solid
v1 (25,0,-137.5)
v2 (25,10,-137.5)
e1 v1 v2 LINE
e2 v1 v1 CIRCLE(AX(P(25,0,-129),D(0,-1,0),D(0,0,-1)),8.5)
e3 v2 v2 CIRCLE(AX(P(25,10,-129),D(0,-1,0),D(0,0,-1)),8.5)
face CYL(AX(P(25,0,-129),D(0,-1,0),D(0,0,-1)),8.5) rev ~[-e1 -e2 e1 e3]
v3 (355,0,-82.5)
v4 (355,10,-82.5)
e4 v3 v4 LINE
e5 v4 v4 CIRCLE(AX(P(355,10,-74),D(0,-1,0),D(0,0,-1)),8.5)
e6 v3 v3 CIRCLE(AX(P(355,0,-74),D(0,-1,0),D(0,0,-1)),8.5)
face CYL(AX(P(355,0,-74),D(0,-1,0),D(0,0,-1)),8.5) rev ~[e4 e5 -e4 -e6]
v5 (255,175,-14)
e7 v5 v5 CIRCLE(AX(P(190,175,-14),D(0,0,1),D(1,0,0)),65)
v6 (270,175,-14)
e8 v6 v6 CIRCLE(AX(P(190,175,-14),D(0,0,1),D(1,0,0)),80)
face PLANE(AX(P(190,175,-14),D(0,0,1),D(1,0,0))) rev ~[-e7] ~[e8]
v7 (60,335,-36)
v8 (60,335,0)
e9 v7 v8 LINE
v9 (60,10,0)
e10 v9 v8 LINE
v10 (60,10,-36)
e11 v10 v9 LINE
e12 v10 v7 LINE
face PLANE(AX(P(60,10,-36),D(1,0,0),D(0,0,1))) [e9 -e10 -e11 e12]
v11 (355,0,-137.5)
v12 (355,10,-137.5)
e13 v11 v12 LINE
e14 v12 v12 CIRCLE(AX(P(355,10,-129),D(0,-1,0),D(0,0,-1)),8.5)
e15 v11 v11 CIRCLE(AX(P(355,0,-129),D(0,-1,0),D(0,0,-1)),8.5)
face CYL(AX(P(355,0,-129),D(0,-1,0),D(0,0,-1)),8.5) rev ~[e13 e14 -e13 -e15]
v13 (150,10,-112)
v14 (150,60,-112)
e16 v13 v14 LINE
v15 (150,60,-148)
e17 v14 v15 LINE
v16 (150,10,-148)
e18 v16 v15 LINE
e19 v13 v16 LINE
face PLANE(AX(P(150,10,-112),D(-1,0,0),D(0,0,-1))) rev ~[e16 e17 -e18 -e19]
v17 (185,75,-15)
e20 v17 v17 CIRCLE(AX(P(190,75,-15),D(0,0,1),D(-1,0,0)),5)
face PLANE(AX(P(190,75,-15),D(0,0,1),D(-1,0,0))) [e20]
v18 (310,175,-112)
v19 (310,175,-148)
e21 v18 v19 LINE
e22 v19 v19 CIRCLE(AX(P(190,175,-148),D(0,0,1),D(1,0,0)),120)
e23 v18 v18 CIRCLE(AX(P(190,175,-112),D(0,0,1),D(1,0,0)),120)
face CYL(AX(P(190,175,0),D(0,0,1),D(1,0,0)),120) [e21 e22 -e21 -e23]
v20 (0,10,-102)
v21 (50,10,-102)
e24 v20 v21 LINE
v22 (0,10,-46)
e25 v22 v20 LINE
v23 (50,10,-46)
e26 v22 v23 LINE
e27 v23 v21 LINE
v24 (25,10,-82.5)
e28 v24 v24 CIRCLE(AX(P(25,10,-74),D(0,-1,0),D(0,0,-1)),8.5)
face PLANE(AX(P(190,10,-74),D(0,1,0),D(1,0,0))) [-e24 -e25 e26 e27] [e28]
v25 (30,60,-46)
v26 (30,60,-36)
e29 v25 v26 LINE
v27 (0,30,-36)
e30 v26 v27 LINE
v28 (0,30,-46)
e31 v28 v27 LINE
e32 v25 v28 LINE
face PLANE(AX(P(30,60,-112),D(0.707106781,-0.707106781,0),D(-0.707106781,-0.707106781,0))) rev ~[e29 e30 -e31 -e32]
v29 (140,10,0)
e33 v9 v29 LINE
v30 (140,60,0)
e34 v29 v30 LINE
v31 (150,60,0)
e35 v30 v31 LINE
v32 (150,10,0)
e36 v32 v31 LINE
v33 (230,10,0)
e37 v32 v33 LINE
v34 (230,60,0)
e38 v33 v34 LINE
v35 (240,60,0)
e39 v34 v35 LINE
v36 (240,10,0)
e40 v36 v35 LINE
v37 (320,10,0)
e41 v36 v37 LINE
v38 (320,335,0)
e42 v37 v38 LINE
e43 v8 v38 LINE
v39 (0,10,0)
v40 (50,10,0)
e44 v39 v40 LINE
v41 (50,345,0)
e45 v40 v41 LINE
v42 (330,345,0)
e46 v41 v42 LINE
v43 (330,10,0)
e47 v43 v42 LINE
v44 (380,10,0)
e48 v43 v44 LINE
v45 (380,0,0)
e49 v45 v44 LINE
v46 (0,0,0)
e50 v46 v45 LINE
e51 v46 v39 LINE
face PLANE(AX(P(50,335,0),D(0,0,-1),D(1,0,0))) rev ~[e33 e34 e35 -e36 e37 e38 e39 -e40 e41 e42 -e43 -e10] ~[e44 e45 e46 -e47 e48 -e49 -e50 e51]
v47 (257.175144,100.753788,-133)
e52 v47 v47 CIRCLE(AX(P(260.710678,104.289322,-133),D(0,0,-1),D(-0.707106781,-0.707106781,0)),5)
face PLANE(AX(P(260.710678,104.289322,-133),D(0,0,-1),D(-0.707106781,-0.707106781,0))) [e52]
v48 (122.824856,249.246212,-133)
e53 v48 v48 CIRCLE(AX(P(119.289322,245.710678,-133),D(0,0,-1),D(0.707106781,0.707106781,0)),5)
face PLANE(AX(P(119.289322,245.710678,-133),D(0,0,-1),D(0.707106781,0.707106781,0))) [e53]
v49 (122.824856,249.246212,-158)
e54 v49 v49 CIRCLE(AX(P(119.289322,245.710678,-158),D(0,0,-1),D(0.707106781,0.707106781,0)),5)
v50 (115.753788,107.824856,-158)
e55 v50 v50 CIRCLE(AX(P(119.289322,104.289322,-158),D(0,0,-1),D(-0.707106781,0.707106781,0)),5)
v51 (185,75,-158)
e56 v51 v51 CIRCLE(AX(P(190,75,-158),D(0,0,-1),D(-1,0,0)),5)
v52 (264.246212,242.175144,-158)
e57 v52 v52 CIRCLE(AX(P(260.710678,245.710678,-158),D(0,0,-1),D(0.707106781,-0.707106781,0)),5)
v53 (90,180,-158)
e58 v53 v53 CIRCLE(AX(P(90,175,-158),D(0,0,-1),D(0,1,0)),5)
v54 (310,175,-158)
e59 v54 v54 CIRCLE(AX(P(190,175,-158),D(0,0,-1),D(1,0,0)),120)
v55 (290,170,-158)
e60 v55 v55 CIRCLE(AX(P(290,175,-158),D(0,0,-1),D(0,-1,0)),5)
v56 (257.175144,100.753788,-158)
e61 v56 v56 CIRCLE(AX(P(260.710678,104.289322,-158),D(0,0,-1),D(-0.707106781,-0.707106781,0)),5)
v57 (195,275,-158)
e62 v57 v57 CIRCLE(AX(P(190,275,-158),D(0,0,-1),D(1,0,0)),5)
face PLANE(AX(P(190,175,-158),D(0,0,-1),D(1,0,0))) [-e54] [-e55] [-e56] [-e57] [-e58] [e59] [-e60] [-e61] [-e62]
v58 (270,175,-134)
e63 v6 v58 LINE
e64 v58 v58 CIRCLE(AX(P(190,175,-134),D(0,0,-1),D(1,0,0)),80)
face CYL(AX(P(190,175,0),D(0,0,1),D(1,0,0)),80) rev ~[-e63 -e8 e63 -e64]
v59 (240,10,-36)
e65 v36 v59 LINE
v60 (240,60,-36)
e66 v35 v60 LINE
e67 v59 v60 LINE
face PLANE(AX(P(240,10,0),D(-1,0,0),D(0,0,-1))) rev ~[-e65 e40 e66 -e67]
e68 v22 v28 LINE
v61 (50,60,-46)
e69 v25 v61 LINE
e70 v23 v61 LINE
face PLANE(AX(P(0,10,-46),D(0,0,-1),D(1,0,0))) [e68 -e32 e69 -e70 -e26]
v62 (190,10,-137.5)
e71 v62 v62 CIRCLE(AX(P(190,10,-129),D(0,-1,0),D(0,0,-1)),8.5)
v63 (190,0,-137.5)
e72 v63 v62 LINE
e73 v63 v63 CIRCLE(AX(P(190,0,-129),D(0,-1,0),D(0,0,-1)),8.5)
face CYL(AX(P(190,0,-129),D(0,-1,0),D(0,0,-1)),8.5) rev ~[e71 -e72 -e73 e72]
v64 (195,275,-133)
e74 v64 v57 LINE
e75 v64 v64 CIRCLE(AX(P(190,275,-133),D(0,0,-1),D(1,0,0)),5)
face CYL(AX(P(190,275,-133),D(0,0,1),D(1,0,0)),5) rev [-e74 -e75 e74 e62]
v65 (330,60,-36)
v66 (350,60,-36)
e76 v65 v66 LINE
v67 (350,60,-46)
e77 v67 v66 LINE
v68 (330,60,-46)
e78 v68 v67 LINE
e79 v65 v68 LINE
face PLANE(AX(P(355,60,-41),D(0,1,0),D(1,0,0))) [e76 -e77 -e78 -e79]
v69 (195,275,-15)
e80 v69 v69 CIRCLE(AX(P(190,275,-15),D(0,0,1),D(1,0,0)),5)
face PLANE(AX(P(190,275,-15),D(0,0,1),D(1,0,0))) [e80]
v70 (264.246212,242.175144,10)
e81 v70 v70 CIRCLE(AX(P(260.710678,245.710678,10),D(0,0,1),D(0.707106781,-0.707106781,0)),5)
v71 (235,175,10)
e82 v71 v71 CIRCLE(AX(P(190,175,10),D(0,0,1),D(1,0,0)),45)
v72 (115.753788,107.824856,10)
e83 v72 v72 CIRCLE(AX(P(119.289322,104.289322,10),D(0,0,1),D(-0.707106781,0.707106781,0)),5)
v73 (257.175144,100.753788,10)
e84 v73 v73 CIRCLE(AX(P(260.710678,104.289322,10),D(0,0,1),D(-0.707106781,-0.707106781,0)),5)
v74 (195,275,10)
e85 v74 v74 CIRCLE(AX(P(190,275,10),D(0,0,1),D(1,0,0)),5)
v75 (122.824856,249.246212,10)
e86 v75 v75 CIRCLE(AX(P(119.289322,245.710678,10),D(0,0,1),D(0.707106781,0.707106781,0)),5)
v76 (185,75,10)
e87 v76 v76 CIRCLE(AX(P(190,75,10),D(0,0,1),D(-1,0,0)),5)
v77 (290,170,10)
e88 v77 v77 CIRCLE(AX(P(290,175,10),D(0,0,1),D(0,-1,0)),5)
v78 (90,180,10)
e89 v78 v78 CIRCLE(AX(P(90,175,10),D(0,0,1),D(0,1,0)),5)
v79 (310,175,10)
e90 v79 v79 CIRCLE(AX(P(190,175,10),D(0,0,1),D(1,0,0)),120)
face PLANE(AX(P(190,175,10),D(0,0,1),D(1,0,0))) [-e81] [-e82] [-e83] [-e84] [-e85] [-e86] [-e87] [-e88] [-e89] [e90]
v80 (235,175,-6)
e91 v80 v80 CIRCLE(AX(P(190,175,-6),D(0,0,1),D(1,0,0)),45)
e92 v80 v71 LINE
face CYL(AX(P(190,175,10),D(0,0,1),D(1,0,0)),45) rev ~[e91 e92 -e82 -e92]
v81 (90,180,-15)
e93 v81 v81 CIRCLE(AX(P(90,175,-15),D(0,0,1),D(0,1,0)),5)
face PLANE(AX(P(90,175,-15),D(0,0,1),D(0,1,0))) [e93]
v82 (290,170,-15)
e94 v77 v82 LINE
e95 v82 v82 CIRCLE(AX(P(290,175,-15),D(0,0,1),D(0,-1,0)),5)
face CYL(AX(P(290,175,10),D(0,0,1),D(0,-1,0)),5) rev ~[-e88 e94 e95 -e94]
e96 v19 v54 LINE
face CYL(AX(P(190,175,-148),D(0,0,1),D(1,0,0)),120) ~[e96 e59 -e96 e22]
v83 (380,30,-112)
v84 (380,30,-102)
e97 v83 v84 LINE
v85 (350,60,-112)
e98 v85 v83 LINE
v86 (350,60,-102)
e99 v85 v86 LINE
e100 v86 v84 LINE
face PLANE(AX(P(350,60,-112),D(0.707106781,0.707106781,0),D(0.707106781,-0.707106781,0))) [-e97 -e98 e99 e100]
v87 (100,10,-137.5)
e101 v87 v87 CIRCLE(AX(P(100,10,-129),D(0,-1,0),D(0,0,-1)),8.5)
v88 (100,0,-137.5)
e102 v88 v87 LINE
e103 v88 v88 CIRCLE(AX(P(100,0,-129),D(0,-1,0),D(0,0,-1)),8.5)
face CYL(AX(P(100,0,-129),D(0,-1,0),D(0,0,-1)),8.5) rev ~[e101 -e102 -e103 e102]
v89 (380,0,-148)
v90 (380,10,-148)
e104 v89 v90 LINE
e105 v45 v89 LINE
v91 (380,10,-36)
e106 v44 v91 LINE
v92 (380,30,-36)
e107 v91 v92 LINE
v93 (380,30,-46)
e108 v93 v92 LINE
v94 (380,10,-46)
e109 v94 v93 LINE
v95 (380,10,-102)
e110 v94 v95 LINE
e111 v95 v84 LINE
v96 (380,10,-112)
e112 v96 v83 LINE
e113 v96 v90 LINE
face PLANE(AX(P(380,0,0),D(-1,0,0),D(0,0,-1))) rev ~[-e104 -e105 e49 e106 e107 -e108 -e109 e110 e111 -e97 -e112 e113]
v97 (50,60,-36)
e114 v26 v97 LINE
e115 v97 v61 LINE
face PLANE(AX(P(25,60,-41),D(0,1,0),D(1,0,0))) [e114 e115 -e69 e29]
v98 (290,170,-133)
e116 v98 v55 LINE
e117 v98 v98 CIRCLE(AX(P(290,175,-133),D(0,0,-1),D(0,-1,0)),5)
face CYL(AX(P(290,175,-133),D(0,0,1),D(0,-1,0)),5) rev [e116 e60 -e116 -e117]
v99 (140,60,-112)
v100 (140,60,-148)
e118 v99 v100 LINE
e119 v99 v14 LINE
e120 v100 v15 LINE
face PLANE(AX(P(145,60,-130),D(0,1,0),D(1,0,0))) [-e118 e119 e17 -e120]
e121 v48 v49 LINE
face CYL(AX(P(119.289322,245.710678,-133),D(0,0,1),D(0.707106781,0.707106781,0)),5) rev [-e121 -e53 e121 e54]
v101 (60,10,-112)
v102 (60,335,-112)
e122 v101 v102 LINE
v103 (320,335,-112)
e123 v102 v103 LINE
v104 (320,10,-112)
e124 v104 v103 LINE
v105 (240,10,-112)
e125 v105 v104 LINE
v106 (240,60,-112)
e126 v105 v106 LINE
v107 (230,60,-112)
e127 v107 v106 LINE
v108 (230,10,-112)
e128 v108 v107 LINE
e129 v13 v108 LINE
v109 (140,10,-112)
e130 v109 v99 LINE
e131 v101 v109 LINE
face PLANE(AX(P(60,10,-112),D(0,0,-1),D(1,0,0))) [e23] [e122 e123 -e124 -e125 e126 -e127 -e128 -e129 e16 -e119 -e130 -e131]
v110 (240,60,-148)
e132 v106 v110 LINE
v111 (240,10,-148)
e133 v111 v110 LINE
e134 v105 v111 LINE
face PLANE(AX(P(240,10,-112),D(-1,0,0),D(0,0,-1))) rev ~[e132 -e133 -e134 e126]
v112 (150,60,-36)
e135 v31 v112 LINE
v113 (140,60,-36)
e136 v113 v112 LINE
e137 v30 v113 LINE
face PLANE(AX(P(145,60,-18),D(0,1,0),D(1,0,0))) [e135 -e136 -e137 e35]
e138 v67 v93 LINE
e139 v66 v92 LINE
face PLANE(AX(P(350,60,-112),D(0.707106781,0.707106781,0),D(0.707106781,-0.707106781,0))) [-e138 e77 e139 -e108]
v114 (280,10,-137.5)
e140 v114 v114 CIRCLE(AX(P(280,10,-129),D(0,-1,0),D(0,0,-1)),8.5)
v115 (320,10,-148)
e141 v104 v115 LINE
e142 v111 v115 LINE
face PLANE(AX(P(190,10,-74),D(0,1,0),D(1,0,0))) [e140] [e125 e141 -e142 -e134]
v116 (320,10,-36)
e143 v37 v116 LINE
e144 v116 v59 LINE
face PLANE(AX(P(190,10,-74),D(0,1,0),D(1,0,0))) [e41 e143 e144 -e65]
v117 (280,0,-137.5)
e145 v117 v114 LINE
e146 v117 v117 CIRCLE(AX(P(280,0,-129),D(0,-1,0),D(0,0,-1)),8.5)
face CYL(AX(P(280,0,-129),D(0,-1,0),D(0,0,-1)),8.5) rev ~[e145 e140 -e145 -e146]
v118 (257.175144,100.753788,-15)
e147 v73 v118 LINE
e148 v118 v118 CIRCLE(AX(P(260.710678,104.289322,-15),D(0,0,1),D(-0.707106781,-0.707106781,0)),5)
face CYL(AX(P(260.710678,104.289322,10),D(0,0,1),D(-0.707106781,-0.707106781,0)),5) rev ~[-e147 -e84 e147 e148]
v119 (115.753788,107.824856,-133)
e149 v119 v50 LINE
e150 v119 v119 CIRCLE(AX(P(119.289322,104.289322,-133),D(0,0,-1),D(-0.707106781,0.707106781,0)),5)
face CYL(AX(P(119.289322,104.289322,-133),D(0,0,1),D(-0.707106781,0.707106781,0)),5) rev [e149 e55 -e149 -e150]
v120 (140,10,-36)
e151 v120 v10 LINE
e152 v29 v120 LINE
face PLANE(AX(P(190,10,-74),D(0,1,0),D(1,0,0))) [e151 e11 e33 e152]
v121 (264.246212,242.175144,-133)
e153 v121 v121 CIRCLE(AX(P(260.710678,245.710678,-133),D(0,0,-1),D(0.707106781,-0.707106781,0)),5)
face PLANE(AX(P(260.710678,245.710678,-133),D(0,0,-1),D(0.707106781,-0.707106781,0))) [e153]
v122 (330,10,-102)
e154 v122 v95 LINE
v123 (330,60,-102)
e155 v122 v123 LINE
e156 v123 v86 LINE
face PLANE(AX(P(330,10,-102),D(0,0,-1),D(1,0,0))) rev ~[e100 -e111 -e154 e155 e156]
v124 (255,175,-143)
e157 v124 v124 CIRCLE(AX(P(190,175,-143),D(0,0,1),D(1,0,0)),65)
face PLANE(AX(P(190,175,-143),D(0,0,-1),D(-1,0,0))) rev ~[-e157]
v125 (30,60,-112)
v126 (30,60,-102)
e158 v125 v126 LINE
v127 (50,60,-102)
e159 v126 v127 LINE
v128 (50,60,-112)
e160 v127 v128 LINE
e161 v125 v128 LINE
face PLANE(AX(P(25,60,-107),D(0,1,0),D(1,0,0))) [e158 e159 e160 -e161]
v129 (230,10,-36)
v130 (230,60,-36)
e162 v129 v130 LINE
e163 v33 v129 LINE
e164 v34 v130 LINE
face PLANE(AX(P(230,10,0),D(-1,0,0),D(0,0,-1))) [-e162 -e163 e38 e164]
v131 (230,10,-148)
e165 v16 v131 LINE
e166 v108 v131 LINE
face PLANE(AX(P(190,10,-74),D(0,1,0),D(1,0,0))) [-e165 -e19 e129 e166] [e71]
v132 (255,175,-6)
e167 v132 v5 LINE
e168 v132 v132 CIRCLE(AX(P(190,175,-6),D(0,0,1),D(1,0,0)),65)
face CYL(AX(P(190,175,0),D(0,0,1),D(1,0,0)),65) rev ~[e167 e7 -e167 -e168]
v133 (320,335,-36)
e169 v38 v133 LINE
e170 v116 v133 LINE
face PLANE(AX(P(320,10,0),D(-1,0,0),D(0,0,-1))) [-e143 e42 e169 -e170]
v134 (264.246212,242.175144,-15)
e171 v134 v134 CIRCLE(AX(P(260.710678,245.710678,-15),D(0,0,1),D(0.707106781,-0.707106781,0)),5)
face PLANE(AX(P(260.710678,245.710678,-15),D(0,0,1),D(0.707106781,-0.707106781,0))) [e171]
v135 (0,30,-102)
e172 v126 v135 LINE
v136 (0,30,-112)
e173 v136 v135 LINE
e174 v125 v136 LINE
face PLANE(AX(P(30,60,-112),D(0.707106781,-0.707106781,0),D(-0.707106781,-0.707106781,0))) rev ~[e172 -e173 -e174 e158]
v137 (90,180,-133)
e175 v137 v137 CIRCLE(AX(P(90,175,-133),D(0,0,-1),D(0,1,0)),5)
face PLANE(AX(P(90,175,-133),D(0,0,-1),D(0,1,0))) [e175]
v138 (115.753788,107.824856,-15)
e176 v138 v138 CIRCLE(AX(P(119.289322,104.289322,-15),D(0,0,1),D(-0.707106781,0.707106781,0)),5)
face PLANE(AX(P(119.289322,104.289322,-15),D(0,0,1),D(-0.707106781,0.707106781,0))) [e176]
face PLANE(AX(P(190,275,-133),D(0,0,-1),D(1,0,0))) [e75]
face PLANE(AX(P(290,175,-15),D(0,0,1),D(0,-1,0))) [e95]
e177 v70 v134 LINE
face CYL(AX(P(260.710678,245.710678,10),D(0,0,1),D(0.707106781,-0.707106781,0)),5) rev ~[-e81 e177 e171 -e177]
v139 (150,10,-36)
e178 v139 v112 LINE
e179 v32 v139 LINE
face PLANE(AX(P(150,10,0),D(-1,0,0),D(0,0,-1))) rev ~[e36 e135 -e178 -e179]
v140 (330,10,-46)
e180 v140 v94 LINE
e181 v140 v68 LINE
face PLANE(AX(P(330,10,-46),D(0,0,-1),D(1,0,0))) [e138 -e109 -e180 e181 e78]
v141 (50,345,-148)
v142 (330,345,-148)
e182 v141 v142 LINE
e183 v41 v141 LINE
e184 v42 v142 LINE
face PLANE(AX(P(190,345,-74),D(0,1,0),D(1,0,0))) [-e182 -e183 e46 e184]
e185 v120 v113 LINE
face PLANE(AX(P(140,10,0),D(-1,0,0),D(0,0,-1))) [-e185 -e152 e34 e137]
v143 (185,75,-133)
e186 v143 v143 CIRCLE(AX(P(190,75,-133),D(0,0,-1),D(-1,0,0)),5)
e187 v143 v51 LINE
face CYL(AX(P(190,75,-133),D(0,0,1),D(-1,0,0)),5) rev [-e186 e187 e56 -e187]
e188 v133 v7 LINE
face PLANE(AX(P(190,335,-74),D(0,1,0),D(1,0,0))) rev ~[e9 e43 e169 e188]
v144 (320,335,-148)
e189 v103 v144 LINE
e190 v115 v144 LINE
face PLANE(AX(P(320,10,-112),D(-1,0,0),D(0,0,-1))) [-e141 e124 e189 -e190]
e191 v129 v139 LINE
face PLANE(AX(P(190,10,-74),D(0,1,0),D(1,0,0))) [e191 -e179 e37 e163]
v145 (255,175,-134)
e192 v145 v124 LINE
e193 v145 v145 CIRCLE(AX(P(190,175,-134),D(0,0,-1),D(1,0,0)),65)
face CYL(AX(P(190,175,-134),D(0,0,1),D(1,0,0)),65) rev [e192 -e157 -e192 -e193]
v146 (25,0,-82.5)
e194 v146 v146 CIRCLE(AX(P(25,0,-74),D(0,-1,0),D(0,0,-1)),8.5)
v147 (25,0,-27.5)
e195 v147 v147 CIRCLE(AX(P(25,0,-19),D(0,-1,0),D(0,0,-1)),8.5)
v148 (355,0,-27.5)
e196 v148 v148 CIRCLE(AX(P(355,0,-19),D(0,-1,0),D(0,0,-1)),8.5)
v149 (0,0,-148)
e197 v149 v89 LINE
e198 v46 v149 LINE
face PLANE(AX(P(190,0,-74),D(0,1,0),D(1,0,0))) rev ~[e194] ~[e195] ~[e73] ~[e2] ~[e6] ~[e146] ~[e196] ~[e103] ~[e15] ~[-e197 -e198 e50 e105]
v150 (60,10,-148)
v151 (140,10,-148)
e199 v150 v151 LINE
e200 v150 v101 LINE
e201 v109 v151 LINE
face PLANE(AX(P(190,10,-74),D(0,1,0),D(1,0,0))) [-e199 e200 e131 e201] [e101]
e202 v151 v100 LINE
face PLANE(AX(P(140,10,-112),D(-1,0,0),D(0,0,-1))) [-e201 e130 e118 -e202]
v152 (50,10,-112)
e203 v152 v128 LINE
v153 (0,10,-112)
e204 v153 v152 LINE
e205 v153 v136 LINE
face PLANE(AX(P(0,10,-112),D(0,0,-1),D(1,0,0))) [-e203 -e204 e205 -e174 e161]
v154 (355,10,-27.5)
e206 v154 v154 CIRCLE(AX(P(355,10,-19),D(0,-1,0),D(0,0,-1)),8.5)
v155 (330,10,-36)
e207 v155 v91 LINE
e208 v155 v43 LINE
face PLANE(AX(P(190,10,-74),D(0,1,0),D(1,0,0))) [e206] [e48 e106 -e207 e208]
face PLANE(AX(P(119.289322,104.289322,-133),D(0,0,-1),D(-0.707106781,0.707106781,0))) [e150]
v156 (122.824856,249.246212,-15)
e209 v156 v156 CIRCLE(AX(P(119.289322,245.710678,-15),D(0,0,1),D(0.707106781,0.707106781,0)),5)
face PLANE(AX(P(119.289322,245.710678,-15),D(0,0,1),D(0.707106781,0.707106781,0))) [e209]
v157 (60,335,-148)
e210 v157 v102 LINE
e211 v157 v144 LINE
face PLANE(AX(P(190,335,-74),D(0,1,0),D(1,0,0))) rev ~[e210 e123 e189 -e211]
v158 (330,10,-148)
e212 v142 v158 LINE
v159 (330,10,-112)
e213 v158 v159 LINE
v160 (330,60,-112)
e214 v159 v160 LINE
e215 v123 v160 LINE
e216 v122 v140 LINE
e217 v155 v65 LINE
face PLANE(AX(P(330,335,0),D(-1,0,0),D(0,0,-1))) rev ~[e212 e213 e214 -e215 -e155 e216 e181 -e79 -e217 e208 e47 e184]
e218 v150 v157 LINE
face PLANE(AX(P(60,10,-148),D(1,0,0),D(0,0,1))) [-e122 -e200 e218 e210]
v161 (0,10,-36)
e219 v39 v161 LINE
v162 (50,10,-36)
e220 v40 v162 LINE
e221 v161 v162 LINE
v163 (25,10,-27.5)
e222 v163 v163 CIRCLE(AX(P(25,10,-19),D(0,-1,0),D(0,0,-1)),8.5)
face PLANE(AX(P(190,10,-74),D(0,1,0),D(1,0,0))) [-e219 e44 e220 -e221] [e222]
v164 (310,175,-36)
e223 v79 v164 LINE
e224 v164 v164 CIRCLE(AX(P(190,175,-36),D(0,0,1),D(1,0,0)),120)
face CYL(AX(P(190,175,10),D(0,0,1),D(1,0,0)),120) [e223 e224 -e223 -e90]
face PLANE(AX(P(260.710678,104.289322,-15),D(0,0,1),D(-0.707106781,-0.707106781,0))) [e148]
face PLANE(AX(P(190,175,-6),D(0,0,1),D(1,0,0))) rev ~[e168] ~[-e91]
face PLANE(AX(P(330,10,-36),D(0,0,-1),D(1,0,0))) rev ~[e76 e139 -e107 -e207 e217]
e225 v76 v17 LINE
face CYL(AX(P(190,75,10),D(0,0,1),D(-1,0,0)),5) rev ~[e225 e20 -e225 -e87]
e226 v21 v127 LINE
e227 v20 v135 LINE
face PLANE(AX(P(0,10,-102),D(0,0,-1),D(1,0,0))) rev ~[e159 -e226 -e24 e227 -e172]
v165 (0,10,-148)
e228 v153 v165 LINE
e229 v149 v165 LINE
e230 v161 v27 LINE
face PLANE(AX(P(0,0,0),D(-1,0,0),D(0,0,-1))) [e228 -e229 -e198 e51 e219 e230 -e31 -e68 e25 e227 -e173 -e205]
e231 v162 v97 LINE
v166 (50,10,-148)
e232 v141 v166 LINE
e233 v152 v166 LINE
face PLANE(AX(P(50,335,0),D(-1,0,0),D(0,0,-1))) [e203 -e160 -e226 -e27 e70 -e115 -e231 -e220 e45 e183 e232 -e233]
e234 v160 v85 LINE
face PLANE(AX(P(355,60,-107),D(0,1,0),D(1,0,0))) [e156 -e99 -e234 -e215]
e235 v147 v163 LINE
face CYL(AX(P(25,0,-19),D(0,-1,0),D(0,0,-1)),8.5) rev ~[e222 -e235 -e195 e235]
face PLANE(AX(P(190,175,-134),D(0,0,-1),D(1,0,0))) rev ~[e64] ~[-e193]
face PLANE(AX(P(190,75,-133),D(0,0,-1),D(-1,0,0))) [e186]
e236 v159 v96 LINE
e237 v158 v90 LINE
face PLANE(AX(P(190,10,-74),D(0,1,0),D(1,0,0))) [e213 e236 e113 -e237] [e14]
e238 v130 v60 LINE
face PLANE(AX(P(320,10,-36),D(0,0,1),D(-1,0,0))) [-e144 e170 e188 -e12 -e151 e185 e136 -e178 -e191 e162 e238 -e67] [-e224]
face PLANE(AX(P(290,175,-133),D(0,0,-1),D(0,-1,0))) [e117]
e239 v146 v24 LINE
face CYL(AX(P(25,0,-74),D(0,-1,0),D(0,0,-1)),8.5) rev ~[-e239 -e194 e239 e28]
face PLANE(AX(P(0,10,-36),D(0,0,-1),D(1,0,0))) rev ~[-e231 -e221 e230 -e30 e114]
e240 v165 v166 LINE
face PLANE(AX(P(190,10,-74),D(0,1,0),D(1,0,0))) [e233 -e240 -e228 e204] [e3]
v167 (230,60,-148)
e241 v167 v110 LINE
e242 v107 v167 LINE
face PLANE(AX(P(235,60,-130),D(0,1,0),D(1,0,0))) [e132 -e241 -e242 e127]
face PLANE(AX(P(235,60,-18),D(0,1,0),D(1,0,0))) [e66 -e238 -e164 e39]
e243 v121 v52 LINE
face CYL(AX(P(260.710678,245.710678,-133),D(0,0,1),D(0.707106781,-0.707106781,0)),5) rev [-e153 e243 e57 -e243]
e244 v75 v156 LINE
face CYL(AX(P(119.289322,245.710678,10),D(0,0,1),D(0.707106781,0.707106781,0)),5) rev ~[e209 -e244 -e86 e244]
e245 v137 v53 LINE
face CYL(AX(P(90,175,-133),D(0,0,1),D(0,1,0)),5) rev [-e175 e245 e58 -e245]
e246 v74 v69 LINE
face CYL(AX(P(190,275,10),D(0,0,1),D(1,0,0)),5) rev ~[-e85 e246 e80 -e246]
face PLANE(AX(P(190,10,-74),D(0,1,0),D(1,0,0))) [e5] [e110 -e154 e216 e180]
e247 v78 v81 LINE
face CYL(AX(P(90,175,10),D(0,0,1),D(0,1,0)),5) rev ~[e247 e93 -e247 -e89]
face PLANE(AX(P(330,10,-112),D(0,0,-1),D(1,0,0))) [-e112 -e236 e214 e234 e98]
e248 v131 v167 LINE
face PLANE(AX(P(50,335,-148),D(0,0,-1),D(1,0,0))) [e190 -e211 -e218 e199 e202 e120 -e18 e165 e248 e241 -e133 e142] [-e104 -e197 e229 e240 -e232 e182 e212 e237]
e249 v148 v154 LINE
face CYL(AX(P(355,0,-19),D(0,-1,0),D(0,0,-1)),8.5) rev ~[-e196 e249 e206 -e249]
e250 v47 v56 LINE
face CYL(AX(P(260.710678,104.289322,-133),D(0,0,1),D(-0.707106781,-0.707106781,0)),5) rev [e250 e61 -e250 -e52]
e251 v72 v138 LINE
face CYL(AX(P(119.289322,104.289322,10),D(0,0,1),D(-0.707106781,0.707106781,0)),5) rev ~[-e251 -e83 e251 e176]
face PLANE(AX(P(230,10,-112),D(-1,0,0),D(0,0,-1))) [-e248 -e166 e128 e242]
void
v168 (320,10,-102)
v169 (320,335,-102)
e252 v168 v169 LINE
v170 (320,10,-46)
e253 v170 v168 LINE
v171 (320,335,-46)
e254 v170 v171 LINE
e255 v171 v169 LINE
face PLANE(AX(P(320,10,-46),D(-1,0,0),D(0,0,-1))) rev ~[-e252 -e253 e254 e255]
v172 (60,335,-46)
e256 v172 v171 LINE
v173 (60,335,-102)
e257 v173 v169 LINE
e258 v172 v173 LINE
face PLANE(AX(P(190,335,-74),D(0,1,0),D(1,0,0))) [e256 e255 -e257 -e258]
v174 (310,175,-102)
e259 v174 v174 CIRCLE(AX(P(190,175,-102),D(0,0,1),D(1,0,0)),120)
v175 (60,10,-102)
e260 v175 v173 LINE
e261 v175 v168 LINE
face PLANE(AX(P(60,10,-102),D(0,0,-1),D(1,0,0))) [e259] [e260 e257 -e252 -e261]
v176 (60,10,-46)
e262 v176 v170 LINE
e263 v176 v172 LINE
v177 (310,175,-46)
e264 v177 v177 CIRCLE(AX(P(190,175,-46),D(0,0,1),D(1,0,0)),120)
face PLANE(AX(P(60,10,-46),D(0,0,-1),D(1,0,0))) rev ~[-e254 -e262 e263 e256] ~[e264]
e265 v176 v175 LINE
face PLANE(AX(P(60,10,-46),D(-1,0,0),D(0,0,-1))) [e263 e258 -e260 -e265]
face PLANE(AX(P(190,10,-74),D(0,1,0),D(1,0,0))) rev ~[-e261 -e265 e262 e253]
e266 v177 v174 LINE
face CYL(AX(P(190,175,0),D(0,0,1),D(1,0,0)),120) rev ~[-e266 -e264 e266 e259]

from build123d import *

# Parameters (mm, degrees)
SKETCH_1_W               = 380
SKETCH_1_H               = 148
EXTRUDE_1_DEPTH          = 10
SKETCH_2_W               = 260
SKETCH_2_H               = 56
EXTRUDE_2_DEPTH          = 325
SKETCH_3_W               = 280
SKETCH_3_H               = 148
EXTRUDE_3_DEPTH          = 10
SKETCH_4_R               = 120
CUT_EXTRUDE_1_DEPTH      = 526.327516888
SKETCH_5_R               = 120
SKETCH_5_R_2             = 80
EXTRUDE_4_DEPTH          = 148
SKETCH_6_W               = 10
SKETCH_6_H               = 36
EXTRUDE_5_DEPTH          = 50
SKETCH_7_W               = 50
SKETCH_7_H               = 10
EXTRUDE_6_DEPTH          = 50
CUT_EXTRUDE_2_DEPTH      = 526.327516888
SKETCH_9_R               = 80
SKETCH_9_R_2             = 65
EXTRUDE_7_DEPTH          = 14
SKETCH_10_R              = 65
SKETCH_10_R_2            = 45
EXTRUDE_8_DEPTH          = 6
EXTRUDE_START            = 10
SKETCH_11_R              = 120
SKETCH_11_R_2            = 45
EXTRUDE_9_DEPTH          = 10
EXTRUDE_START_2          = -14
SKETCH_12_R              = 80
SKETCH_12_R_2            = 65
EXTRUDE_10_DEPTH         = 14
EXTRUDE_START_3          = -5
SKETCH_13_R              = 65
EXTRUDE_11_DEPTH         = 5
SKETCH_14_R              = 120
EXTRUDE_12_DEPTH         = 10
SKETCH_15_R              = 8.5
CUT_EXTRUDE_3_DEPTH      = 10
SKETCH_16_R              = 5
CUT_EXTRUDE_4_DEPTH      = 25
CUT_EXTRUDE_START        = -25
SKETCH_17_R              = 5
CUT_EXTRUDE_5_DEPTH      = 25
PATTERN_CIRCULAR_1_COUNT = 8


with BuildPart() as part:
    # 草图1 → 凸台-拉伸1 (new body)
    with BuildSketch(Plane(origin=(0, 0, 0), x_dir=(1, 0, 0), z_dir=(0, 1, 0))):
        with Locations((190, 74)):
            Rectangle(SKETCH_1_W, SKETCH_1_H)
    extrude(amount=EXTRUDE_1_DEPTH)

    # 草图2 → 凸台-拉伸2 (add)
    with BuildSketch(Plane(origin=(0, 10, 0), x_dir=(1, 0, 0), z_dir=(0, 1, 0))):
        Polygon((50, 148), (60, 148), (60, 112), (320, 112), (320, 148), (330, 148), (330, 0), (320, 0), (320, 36), (60, 36), (60, 0), (50, 0), align=None)
        with Locations((190, 74)):
            Rectangle(SKETCH_2_W, SKETCH_2_H, mode=Mode.SUBTRACT)
    extrude(amount=EXTRUDE_2_DEPTH)

    # 草图3 → 凸台-拉伸3 (add)
    with BuildSketch(Plane(origin=(0, 335, 0), x_dir=(1, 0, 0), z_dir=(0, 1, 0))):
        with Locations((190, 74)):
            Rectangle(SKETCH_3_W, SKETCH_3_H)
    extrude(amount=EXTRUDE_3_DEPTH)

    # 草图4 → 切除-拉伸1 (cut, through all)
    with BuildSketch(Plane.XY.offset(-36)):
        with Locations((190, 175)):
            Circle(SKETCH_4_R)
    extrude(amount=-CUT_EXTRUDE_1_DEPTH, mode=Mode.SUBTRACT)

    # 草图5 → 凸台-拉伸4 (add)
    with BuildSketch(Plane.XY):
        with Locations((190, 175)):
            Circle(SKETCH_5_R)
        with Locations((190, 175)):
            Circle(SKETCH_5_R_2, mode=Mode.SUBTRACT)
    extrude(amount=-EXTRUDE_4_DEPTH)

    # 草图6 → 凸台-拉伸5 (add)
    with BuildSketch(Plane(origin=(0, 10, 0), x_dir=(1, 0, 0), z_dir=(0, 1, 0))):
        with Locations((145, 18)):
            Rectangle(SKETCH_6_W, SKETCH_6_H)
        with Locations((235, 18)):
            Rectangle(SKETCH_6_W, SKETCH_6_H)
        with Locations((235, 130)):
            Rectangle(SKETCH_6_W, SKETCH_6_H)
        with Locations((145, 130)):
            Rectangle(SKETCH_6_W, SKETCH_6_H)
    extrude(amount=EXTRUDE_5_DEPTH)

    # 草图7 → 凸台-拉伸6 (add)
    with BuildSketch(Plane(origin=(0, 10, 0), x_dir=(1, 0, 0), z_dir=(0, 1, 0))):
        with Locations((355, 41)):
            Rectangle(SKETCH_7_W, SKETCH_7_H)
        with Locations((355, 107)):
            Rectangle(SKETCH_7_W, SKETCH_7_H)
        with Locations((25, 107)):
            Rectangle(SKETCH_7_W, SKETCH_7_H)
        with Locations((25, 41)):
            Rectangle(SKETCH_7_W, SKETCH_7_H)
    extrude(amount=EXTRUDE_6_DEPTH)

    # 草图8 → 切除-拉伸2 (cut, through all)
    with BuildSketch(Plane(origin=(0, 0, -112), x_dir=(-1, 0, 0), z_dir=(0, 0, -1))):
        Polygon((-380, 60), (-350, 60), (-380, 30), align=None)
        Polygon((0, 60), (-30, 60), (0, 30), align=None)
    extrude(amount=-CUT_EXTRUDE_2_DEPTH, mode=Mode.SUBTRACT)



with BuildPart() as body_2:
    # 草图9 → 凸台-拉伸7 (new body)
    with BuildSketch(Plane.XY):
        with Locations((190, 175)):
            Circle(SKETCH_9_R)
        with Locations((190, 175)):
            Circle(SKETCH_9_R_2, mode=Mode.SUBTRACT)
    extrude(amount=-EXTRUDE_7_DEPTH)


with BuildPart() as part_1:
    add(part.part)

    add(body_2.part)  # 凸台-拉伸8 merges body 2
    # 草图10 → 凸台-拉伸8 (add)
    with BuildSketch(Plane.XY):
        with Locations((190, 175)):
            Circle(SKETCH_10_R)
        with Locations((190, 175)):
            Circle(SKETCH_10_R_2, mode=Mode.SUBTRACT)
    extrude(amount=-EXTRUDE_8_DEPTH)

    # 草图11 → 凸台-拉伸9 (add)
    with BuildSketch(Plane.XY.offset(EXTRUDE_START)):
        with Locations((190, 175)):
            Circle(SKETCH_11_R)
        with Locations((190, 175)):
            Circle(SKETCH_11_R_2, mode=Mode.SUBTRACT)
    extrude(amount=-EXTRUDE_9_DEPTH)

    # 草图12 → 凸台-拉伸10 (add)
    with BuildSketch(Plane(origin=(0, 0, -148), x_dir=(-1, 0, 0), z_dir=(0, 0, -1)).offset(EXTRUDE_START_2)):
        with Locations(Location((-190, 175, 0), (0, 0, 180))):
            Circle(SKETCH_12_R)
        with Locations(Location((-190, 175, 0), (0, 0, 180))):
            Circle(SKETCH_12_R_2, mode=Mode.SUBTRACT)
    extrude(amount=EXTRUDE_10_DEPTH)

    # 草图13 → 凸台-拉伸11 (add)
    with BuildSketch(Plane(origin=(0, 0, -148), x_dir=(-1, 0, 0), z_dir=(0, 0, -1)).offset(EXTRUDE_START_3)):
        with Locations((-190, 175)):
            Circle(SKETCH_13_R)
    extrude(amount=EXTRUDE_11_DEPTH)

    # 草图14 → 凸台-拉伸12 (add)
    with BuildSketch(Plane(origin=(0, 0, -148), x_dir=(-1, 0, 0), z_dir=(0, 0, -1))):
        with Locations(Location((-190, 175, 0), (0, 0, 180))):
            Circle(SKETCH_14_R)
    extrude(amount=EXTRUDE_12_DEPTH)

    # 草图15 → 切除-拉伸3 (cut)
    with BuildSketch(Plane.XZ):
        with Locations(Location((25, -129, 0), (0, 0, 270))):
            Circle(SKETCH_15_R)
        with Locations(Location((25, -74, 0), (0, 0, 270))):
            Circle(SKETCH_15_R)
        with Locations(Location((25, -19, 0), (0, 0, 270))):
            Circle(SKETCH_15_R)
        with Locations(Location((190, -129, 0), (0, 0, 270))):
            Circle(SKETCH_15_R)
        with Locations(Location((100, -129, 0), (0, 0, 270))):
            Circle(SKETCH_15_R)
        with Locations(Location((280, -129, 0), (0, 0, 270))):
            Circle(SKETCH_15_R)
        with Locations(Location((355, -74, 0), (0, 0, 270))):
            Circle(SKETCH_15_R)
        with Locations(Location((355, -129, 0), (0, 0, 270))):
            Circle(SKETCH_15_R)
        with Locations(Location((355, -19, 0), (0, 0, 270))):
            Circle(SKETCH_15_R)
    extrude(amount=-CUT_EXTRUDE_3_DEPTH, mode=Mode.SUBTRACT)

    # 草图16 → 切除-拉伸4 (cut)
    with BuildSketch(Plane.XY.offset(10)):
        with Locations((190, 275)):
            Circle(SKETCH_16_R)
    cut_extrude_4 = extrude(amount=-CUT_EXTRUDE_4_DEPTH, mode=Mode.SUBTRACT)

    # 草图17 → 切除-拉伸5 (cut)
    with BuildSketch(Plane(origin=(0, 0, -158), x_dir=(-1, 0, 0), z_dir=(0, 0, -1)).offset(CUT_EXTRUDE_START)):
        with Locations(Location((-190, 275, 0), (0, 0, 180))):
            Circle(SKETCH_17_R)
    cut_extrude_5 = extrude(amount=CUT_EXTRUDE_5_DEPTH, mode=Mode.SUBTRACT)

    # 阵列(圆周)1: 切除-拉伸4, 切除-拉伸5 ×8 about axis
    pattern_circular_1_axis = Axis((190, 175, 0), (0, 0, 1))
    add([cut_extrude_4.rotate(pattern_circular_1_axis, i * 360 / PATTERN_CIRCULAR_1_COUNT) for i in range(1, PATTERN_CIRCULAR_1_COUNT)], mode=Mode.SUBTRACT)
    add([cut_extrude_5.rotate(pattern_circular_1_axis, i * 360 / PATTERN_CIRCULAR_1_COUNT) for i in range(1, PATTERN_CIRCULAR_1_COUNT)], mode=Mode.SUBTRACT)


solid = part_1.part
